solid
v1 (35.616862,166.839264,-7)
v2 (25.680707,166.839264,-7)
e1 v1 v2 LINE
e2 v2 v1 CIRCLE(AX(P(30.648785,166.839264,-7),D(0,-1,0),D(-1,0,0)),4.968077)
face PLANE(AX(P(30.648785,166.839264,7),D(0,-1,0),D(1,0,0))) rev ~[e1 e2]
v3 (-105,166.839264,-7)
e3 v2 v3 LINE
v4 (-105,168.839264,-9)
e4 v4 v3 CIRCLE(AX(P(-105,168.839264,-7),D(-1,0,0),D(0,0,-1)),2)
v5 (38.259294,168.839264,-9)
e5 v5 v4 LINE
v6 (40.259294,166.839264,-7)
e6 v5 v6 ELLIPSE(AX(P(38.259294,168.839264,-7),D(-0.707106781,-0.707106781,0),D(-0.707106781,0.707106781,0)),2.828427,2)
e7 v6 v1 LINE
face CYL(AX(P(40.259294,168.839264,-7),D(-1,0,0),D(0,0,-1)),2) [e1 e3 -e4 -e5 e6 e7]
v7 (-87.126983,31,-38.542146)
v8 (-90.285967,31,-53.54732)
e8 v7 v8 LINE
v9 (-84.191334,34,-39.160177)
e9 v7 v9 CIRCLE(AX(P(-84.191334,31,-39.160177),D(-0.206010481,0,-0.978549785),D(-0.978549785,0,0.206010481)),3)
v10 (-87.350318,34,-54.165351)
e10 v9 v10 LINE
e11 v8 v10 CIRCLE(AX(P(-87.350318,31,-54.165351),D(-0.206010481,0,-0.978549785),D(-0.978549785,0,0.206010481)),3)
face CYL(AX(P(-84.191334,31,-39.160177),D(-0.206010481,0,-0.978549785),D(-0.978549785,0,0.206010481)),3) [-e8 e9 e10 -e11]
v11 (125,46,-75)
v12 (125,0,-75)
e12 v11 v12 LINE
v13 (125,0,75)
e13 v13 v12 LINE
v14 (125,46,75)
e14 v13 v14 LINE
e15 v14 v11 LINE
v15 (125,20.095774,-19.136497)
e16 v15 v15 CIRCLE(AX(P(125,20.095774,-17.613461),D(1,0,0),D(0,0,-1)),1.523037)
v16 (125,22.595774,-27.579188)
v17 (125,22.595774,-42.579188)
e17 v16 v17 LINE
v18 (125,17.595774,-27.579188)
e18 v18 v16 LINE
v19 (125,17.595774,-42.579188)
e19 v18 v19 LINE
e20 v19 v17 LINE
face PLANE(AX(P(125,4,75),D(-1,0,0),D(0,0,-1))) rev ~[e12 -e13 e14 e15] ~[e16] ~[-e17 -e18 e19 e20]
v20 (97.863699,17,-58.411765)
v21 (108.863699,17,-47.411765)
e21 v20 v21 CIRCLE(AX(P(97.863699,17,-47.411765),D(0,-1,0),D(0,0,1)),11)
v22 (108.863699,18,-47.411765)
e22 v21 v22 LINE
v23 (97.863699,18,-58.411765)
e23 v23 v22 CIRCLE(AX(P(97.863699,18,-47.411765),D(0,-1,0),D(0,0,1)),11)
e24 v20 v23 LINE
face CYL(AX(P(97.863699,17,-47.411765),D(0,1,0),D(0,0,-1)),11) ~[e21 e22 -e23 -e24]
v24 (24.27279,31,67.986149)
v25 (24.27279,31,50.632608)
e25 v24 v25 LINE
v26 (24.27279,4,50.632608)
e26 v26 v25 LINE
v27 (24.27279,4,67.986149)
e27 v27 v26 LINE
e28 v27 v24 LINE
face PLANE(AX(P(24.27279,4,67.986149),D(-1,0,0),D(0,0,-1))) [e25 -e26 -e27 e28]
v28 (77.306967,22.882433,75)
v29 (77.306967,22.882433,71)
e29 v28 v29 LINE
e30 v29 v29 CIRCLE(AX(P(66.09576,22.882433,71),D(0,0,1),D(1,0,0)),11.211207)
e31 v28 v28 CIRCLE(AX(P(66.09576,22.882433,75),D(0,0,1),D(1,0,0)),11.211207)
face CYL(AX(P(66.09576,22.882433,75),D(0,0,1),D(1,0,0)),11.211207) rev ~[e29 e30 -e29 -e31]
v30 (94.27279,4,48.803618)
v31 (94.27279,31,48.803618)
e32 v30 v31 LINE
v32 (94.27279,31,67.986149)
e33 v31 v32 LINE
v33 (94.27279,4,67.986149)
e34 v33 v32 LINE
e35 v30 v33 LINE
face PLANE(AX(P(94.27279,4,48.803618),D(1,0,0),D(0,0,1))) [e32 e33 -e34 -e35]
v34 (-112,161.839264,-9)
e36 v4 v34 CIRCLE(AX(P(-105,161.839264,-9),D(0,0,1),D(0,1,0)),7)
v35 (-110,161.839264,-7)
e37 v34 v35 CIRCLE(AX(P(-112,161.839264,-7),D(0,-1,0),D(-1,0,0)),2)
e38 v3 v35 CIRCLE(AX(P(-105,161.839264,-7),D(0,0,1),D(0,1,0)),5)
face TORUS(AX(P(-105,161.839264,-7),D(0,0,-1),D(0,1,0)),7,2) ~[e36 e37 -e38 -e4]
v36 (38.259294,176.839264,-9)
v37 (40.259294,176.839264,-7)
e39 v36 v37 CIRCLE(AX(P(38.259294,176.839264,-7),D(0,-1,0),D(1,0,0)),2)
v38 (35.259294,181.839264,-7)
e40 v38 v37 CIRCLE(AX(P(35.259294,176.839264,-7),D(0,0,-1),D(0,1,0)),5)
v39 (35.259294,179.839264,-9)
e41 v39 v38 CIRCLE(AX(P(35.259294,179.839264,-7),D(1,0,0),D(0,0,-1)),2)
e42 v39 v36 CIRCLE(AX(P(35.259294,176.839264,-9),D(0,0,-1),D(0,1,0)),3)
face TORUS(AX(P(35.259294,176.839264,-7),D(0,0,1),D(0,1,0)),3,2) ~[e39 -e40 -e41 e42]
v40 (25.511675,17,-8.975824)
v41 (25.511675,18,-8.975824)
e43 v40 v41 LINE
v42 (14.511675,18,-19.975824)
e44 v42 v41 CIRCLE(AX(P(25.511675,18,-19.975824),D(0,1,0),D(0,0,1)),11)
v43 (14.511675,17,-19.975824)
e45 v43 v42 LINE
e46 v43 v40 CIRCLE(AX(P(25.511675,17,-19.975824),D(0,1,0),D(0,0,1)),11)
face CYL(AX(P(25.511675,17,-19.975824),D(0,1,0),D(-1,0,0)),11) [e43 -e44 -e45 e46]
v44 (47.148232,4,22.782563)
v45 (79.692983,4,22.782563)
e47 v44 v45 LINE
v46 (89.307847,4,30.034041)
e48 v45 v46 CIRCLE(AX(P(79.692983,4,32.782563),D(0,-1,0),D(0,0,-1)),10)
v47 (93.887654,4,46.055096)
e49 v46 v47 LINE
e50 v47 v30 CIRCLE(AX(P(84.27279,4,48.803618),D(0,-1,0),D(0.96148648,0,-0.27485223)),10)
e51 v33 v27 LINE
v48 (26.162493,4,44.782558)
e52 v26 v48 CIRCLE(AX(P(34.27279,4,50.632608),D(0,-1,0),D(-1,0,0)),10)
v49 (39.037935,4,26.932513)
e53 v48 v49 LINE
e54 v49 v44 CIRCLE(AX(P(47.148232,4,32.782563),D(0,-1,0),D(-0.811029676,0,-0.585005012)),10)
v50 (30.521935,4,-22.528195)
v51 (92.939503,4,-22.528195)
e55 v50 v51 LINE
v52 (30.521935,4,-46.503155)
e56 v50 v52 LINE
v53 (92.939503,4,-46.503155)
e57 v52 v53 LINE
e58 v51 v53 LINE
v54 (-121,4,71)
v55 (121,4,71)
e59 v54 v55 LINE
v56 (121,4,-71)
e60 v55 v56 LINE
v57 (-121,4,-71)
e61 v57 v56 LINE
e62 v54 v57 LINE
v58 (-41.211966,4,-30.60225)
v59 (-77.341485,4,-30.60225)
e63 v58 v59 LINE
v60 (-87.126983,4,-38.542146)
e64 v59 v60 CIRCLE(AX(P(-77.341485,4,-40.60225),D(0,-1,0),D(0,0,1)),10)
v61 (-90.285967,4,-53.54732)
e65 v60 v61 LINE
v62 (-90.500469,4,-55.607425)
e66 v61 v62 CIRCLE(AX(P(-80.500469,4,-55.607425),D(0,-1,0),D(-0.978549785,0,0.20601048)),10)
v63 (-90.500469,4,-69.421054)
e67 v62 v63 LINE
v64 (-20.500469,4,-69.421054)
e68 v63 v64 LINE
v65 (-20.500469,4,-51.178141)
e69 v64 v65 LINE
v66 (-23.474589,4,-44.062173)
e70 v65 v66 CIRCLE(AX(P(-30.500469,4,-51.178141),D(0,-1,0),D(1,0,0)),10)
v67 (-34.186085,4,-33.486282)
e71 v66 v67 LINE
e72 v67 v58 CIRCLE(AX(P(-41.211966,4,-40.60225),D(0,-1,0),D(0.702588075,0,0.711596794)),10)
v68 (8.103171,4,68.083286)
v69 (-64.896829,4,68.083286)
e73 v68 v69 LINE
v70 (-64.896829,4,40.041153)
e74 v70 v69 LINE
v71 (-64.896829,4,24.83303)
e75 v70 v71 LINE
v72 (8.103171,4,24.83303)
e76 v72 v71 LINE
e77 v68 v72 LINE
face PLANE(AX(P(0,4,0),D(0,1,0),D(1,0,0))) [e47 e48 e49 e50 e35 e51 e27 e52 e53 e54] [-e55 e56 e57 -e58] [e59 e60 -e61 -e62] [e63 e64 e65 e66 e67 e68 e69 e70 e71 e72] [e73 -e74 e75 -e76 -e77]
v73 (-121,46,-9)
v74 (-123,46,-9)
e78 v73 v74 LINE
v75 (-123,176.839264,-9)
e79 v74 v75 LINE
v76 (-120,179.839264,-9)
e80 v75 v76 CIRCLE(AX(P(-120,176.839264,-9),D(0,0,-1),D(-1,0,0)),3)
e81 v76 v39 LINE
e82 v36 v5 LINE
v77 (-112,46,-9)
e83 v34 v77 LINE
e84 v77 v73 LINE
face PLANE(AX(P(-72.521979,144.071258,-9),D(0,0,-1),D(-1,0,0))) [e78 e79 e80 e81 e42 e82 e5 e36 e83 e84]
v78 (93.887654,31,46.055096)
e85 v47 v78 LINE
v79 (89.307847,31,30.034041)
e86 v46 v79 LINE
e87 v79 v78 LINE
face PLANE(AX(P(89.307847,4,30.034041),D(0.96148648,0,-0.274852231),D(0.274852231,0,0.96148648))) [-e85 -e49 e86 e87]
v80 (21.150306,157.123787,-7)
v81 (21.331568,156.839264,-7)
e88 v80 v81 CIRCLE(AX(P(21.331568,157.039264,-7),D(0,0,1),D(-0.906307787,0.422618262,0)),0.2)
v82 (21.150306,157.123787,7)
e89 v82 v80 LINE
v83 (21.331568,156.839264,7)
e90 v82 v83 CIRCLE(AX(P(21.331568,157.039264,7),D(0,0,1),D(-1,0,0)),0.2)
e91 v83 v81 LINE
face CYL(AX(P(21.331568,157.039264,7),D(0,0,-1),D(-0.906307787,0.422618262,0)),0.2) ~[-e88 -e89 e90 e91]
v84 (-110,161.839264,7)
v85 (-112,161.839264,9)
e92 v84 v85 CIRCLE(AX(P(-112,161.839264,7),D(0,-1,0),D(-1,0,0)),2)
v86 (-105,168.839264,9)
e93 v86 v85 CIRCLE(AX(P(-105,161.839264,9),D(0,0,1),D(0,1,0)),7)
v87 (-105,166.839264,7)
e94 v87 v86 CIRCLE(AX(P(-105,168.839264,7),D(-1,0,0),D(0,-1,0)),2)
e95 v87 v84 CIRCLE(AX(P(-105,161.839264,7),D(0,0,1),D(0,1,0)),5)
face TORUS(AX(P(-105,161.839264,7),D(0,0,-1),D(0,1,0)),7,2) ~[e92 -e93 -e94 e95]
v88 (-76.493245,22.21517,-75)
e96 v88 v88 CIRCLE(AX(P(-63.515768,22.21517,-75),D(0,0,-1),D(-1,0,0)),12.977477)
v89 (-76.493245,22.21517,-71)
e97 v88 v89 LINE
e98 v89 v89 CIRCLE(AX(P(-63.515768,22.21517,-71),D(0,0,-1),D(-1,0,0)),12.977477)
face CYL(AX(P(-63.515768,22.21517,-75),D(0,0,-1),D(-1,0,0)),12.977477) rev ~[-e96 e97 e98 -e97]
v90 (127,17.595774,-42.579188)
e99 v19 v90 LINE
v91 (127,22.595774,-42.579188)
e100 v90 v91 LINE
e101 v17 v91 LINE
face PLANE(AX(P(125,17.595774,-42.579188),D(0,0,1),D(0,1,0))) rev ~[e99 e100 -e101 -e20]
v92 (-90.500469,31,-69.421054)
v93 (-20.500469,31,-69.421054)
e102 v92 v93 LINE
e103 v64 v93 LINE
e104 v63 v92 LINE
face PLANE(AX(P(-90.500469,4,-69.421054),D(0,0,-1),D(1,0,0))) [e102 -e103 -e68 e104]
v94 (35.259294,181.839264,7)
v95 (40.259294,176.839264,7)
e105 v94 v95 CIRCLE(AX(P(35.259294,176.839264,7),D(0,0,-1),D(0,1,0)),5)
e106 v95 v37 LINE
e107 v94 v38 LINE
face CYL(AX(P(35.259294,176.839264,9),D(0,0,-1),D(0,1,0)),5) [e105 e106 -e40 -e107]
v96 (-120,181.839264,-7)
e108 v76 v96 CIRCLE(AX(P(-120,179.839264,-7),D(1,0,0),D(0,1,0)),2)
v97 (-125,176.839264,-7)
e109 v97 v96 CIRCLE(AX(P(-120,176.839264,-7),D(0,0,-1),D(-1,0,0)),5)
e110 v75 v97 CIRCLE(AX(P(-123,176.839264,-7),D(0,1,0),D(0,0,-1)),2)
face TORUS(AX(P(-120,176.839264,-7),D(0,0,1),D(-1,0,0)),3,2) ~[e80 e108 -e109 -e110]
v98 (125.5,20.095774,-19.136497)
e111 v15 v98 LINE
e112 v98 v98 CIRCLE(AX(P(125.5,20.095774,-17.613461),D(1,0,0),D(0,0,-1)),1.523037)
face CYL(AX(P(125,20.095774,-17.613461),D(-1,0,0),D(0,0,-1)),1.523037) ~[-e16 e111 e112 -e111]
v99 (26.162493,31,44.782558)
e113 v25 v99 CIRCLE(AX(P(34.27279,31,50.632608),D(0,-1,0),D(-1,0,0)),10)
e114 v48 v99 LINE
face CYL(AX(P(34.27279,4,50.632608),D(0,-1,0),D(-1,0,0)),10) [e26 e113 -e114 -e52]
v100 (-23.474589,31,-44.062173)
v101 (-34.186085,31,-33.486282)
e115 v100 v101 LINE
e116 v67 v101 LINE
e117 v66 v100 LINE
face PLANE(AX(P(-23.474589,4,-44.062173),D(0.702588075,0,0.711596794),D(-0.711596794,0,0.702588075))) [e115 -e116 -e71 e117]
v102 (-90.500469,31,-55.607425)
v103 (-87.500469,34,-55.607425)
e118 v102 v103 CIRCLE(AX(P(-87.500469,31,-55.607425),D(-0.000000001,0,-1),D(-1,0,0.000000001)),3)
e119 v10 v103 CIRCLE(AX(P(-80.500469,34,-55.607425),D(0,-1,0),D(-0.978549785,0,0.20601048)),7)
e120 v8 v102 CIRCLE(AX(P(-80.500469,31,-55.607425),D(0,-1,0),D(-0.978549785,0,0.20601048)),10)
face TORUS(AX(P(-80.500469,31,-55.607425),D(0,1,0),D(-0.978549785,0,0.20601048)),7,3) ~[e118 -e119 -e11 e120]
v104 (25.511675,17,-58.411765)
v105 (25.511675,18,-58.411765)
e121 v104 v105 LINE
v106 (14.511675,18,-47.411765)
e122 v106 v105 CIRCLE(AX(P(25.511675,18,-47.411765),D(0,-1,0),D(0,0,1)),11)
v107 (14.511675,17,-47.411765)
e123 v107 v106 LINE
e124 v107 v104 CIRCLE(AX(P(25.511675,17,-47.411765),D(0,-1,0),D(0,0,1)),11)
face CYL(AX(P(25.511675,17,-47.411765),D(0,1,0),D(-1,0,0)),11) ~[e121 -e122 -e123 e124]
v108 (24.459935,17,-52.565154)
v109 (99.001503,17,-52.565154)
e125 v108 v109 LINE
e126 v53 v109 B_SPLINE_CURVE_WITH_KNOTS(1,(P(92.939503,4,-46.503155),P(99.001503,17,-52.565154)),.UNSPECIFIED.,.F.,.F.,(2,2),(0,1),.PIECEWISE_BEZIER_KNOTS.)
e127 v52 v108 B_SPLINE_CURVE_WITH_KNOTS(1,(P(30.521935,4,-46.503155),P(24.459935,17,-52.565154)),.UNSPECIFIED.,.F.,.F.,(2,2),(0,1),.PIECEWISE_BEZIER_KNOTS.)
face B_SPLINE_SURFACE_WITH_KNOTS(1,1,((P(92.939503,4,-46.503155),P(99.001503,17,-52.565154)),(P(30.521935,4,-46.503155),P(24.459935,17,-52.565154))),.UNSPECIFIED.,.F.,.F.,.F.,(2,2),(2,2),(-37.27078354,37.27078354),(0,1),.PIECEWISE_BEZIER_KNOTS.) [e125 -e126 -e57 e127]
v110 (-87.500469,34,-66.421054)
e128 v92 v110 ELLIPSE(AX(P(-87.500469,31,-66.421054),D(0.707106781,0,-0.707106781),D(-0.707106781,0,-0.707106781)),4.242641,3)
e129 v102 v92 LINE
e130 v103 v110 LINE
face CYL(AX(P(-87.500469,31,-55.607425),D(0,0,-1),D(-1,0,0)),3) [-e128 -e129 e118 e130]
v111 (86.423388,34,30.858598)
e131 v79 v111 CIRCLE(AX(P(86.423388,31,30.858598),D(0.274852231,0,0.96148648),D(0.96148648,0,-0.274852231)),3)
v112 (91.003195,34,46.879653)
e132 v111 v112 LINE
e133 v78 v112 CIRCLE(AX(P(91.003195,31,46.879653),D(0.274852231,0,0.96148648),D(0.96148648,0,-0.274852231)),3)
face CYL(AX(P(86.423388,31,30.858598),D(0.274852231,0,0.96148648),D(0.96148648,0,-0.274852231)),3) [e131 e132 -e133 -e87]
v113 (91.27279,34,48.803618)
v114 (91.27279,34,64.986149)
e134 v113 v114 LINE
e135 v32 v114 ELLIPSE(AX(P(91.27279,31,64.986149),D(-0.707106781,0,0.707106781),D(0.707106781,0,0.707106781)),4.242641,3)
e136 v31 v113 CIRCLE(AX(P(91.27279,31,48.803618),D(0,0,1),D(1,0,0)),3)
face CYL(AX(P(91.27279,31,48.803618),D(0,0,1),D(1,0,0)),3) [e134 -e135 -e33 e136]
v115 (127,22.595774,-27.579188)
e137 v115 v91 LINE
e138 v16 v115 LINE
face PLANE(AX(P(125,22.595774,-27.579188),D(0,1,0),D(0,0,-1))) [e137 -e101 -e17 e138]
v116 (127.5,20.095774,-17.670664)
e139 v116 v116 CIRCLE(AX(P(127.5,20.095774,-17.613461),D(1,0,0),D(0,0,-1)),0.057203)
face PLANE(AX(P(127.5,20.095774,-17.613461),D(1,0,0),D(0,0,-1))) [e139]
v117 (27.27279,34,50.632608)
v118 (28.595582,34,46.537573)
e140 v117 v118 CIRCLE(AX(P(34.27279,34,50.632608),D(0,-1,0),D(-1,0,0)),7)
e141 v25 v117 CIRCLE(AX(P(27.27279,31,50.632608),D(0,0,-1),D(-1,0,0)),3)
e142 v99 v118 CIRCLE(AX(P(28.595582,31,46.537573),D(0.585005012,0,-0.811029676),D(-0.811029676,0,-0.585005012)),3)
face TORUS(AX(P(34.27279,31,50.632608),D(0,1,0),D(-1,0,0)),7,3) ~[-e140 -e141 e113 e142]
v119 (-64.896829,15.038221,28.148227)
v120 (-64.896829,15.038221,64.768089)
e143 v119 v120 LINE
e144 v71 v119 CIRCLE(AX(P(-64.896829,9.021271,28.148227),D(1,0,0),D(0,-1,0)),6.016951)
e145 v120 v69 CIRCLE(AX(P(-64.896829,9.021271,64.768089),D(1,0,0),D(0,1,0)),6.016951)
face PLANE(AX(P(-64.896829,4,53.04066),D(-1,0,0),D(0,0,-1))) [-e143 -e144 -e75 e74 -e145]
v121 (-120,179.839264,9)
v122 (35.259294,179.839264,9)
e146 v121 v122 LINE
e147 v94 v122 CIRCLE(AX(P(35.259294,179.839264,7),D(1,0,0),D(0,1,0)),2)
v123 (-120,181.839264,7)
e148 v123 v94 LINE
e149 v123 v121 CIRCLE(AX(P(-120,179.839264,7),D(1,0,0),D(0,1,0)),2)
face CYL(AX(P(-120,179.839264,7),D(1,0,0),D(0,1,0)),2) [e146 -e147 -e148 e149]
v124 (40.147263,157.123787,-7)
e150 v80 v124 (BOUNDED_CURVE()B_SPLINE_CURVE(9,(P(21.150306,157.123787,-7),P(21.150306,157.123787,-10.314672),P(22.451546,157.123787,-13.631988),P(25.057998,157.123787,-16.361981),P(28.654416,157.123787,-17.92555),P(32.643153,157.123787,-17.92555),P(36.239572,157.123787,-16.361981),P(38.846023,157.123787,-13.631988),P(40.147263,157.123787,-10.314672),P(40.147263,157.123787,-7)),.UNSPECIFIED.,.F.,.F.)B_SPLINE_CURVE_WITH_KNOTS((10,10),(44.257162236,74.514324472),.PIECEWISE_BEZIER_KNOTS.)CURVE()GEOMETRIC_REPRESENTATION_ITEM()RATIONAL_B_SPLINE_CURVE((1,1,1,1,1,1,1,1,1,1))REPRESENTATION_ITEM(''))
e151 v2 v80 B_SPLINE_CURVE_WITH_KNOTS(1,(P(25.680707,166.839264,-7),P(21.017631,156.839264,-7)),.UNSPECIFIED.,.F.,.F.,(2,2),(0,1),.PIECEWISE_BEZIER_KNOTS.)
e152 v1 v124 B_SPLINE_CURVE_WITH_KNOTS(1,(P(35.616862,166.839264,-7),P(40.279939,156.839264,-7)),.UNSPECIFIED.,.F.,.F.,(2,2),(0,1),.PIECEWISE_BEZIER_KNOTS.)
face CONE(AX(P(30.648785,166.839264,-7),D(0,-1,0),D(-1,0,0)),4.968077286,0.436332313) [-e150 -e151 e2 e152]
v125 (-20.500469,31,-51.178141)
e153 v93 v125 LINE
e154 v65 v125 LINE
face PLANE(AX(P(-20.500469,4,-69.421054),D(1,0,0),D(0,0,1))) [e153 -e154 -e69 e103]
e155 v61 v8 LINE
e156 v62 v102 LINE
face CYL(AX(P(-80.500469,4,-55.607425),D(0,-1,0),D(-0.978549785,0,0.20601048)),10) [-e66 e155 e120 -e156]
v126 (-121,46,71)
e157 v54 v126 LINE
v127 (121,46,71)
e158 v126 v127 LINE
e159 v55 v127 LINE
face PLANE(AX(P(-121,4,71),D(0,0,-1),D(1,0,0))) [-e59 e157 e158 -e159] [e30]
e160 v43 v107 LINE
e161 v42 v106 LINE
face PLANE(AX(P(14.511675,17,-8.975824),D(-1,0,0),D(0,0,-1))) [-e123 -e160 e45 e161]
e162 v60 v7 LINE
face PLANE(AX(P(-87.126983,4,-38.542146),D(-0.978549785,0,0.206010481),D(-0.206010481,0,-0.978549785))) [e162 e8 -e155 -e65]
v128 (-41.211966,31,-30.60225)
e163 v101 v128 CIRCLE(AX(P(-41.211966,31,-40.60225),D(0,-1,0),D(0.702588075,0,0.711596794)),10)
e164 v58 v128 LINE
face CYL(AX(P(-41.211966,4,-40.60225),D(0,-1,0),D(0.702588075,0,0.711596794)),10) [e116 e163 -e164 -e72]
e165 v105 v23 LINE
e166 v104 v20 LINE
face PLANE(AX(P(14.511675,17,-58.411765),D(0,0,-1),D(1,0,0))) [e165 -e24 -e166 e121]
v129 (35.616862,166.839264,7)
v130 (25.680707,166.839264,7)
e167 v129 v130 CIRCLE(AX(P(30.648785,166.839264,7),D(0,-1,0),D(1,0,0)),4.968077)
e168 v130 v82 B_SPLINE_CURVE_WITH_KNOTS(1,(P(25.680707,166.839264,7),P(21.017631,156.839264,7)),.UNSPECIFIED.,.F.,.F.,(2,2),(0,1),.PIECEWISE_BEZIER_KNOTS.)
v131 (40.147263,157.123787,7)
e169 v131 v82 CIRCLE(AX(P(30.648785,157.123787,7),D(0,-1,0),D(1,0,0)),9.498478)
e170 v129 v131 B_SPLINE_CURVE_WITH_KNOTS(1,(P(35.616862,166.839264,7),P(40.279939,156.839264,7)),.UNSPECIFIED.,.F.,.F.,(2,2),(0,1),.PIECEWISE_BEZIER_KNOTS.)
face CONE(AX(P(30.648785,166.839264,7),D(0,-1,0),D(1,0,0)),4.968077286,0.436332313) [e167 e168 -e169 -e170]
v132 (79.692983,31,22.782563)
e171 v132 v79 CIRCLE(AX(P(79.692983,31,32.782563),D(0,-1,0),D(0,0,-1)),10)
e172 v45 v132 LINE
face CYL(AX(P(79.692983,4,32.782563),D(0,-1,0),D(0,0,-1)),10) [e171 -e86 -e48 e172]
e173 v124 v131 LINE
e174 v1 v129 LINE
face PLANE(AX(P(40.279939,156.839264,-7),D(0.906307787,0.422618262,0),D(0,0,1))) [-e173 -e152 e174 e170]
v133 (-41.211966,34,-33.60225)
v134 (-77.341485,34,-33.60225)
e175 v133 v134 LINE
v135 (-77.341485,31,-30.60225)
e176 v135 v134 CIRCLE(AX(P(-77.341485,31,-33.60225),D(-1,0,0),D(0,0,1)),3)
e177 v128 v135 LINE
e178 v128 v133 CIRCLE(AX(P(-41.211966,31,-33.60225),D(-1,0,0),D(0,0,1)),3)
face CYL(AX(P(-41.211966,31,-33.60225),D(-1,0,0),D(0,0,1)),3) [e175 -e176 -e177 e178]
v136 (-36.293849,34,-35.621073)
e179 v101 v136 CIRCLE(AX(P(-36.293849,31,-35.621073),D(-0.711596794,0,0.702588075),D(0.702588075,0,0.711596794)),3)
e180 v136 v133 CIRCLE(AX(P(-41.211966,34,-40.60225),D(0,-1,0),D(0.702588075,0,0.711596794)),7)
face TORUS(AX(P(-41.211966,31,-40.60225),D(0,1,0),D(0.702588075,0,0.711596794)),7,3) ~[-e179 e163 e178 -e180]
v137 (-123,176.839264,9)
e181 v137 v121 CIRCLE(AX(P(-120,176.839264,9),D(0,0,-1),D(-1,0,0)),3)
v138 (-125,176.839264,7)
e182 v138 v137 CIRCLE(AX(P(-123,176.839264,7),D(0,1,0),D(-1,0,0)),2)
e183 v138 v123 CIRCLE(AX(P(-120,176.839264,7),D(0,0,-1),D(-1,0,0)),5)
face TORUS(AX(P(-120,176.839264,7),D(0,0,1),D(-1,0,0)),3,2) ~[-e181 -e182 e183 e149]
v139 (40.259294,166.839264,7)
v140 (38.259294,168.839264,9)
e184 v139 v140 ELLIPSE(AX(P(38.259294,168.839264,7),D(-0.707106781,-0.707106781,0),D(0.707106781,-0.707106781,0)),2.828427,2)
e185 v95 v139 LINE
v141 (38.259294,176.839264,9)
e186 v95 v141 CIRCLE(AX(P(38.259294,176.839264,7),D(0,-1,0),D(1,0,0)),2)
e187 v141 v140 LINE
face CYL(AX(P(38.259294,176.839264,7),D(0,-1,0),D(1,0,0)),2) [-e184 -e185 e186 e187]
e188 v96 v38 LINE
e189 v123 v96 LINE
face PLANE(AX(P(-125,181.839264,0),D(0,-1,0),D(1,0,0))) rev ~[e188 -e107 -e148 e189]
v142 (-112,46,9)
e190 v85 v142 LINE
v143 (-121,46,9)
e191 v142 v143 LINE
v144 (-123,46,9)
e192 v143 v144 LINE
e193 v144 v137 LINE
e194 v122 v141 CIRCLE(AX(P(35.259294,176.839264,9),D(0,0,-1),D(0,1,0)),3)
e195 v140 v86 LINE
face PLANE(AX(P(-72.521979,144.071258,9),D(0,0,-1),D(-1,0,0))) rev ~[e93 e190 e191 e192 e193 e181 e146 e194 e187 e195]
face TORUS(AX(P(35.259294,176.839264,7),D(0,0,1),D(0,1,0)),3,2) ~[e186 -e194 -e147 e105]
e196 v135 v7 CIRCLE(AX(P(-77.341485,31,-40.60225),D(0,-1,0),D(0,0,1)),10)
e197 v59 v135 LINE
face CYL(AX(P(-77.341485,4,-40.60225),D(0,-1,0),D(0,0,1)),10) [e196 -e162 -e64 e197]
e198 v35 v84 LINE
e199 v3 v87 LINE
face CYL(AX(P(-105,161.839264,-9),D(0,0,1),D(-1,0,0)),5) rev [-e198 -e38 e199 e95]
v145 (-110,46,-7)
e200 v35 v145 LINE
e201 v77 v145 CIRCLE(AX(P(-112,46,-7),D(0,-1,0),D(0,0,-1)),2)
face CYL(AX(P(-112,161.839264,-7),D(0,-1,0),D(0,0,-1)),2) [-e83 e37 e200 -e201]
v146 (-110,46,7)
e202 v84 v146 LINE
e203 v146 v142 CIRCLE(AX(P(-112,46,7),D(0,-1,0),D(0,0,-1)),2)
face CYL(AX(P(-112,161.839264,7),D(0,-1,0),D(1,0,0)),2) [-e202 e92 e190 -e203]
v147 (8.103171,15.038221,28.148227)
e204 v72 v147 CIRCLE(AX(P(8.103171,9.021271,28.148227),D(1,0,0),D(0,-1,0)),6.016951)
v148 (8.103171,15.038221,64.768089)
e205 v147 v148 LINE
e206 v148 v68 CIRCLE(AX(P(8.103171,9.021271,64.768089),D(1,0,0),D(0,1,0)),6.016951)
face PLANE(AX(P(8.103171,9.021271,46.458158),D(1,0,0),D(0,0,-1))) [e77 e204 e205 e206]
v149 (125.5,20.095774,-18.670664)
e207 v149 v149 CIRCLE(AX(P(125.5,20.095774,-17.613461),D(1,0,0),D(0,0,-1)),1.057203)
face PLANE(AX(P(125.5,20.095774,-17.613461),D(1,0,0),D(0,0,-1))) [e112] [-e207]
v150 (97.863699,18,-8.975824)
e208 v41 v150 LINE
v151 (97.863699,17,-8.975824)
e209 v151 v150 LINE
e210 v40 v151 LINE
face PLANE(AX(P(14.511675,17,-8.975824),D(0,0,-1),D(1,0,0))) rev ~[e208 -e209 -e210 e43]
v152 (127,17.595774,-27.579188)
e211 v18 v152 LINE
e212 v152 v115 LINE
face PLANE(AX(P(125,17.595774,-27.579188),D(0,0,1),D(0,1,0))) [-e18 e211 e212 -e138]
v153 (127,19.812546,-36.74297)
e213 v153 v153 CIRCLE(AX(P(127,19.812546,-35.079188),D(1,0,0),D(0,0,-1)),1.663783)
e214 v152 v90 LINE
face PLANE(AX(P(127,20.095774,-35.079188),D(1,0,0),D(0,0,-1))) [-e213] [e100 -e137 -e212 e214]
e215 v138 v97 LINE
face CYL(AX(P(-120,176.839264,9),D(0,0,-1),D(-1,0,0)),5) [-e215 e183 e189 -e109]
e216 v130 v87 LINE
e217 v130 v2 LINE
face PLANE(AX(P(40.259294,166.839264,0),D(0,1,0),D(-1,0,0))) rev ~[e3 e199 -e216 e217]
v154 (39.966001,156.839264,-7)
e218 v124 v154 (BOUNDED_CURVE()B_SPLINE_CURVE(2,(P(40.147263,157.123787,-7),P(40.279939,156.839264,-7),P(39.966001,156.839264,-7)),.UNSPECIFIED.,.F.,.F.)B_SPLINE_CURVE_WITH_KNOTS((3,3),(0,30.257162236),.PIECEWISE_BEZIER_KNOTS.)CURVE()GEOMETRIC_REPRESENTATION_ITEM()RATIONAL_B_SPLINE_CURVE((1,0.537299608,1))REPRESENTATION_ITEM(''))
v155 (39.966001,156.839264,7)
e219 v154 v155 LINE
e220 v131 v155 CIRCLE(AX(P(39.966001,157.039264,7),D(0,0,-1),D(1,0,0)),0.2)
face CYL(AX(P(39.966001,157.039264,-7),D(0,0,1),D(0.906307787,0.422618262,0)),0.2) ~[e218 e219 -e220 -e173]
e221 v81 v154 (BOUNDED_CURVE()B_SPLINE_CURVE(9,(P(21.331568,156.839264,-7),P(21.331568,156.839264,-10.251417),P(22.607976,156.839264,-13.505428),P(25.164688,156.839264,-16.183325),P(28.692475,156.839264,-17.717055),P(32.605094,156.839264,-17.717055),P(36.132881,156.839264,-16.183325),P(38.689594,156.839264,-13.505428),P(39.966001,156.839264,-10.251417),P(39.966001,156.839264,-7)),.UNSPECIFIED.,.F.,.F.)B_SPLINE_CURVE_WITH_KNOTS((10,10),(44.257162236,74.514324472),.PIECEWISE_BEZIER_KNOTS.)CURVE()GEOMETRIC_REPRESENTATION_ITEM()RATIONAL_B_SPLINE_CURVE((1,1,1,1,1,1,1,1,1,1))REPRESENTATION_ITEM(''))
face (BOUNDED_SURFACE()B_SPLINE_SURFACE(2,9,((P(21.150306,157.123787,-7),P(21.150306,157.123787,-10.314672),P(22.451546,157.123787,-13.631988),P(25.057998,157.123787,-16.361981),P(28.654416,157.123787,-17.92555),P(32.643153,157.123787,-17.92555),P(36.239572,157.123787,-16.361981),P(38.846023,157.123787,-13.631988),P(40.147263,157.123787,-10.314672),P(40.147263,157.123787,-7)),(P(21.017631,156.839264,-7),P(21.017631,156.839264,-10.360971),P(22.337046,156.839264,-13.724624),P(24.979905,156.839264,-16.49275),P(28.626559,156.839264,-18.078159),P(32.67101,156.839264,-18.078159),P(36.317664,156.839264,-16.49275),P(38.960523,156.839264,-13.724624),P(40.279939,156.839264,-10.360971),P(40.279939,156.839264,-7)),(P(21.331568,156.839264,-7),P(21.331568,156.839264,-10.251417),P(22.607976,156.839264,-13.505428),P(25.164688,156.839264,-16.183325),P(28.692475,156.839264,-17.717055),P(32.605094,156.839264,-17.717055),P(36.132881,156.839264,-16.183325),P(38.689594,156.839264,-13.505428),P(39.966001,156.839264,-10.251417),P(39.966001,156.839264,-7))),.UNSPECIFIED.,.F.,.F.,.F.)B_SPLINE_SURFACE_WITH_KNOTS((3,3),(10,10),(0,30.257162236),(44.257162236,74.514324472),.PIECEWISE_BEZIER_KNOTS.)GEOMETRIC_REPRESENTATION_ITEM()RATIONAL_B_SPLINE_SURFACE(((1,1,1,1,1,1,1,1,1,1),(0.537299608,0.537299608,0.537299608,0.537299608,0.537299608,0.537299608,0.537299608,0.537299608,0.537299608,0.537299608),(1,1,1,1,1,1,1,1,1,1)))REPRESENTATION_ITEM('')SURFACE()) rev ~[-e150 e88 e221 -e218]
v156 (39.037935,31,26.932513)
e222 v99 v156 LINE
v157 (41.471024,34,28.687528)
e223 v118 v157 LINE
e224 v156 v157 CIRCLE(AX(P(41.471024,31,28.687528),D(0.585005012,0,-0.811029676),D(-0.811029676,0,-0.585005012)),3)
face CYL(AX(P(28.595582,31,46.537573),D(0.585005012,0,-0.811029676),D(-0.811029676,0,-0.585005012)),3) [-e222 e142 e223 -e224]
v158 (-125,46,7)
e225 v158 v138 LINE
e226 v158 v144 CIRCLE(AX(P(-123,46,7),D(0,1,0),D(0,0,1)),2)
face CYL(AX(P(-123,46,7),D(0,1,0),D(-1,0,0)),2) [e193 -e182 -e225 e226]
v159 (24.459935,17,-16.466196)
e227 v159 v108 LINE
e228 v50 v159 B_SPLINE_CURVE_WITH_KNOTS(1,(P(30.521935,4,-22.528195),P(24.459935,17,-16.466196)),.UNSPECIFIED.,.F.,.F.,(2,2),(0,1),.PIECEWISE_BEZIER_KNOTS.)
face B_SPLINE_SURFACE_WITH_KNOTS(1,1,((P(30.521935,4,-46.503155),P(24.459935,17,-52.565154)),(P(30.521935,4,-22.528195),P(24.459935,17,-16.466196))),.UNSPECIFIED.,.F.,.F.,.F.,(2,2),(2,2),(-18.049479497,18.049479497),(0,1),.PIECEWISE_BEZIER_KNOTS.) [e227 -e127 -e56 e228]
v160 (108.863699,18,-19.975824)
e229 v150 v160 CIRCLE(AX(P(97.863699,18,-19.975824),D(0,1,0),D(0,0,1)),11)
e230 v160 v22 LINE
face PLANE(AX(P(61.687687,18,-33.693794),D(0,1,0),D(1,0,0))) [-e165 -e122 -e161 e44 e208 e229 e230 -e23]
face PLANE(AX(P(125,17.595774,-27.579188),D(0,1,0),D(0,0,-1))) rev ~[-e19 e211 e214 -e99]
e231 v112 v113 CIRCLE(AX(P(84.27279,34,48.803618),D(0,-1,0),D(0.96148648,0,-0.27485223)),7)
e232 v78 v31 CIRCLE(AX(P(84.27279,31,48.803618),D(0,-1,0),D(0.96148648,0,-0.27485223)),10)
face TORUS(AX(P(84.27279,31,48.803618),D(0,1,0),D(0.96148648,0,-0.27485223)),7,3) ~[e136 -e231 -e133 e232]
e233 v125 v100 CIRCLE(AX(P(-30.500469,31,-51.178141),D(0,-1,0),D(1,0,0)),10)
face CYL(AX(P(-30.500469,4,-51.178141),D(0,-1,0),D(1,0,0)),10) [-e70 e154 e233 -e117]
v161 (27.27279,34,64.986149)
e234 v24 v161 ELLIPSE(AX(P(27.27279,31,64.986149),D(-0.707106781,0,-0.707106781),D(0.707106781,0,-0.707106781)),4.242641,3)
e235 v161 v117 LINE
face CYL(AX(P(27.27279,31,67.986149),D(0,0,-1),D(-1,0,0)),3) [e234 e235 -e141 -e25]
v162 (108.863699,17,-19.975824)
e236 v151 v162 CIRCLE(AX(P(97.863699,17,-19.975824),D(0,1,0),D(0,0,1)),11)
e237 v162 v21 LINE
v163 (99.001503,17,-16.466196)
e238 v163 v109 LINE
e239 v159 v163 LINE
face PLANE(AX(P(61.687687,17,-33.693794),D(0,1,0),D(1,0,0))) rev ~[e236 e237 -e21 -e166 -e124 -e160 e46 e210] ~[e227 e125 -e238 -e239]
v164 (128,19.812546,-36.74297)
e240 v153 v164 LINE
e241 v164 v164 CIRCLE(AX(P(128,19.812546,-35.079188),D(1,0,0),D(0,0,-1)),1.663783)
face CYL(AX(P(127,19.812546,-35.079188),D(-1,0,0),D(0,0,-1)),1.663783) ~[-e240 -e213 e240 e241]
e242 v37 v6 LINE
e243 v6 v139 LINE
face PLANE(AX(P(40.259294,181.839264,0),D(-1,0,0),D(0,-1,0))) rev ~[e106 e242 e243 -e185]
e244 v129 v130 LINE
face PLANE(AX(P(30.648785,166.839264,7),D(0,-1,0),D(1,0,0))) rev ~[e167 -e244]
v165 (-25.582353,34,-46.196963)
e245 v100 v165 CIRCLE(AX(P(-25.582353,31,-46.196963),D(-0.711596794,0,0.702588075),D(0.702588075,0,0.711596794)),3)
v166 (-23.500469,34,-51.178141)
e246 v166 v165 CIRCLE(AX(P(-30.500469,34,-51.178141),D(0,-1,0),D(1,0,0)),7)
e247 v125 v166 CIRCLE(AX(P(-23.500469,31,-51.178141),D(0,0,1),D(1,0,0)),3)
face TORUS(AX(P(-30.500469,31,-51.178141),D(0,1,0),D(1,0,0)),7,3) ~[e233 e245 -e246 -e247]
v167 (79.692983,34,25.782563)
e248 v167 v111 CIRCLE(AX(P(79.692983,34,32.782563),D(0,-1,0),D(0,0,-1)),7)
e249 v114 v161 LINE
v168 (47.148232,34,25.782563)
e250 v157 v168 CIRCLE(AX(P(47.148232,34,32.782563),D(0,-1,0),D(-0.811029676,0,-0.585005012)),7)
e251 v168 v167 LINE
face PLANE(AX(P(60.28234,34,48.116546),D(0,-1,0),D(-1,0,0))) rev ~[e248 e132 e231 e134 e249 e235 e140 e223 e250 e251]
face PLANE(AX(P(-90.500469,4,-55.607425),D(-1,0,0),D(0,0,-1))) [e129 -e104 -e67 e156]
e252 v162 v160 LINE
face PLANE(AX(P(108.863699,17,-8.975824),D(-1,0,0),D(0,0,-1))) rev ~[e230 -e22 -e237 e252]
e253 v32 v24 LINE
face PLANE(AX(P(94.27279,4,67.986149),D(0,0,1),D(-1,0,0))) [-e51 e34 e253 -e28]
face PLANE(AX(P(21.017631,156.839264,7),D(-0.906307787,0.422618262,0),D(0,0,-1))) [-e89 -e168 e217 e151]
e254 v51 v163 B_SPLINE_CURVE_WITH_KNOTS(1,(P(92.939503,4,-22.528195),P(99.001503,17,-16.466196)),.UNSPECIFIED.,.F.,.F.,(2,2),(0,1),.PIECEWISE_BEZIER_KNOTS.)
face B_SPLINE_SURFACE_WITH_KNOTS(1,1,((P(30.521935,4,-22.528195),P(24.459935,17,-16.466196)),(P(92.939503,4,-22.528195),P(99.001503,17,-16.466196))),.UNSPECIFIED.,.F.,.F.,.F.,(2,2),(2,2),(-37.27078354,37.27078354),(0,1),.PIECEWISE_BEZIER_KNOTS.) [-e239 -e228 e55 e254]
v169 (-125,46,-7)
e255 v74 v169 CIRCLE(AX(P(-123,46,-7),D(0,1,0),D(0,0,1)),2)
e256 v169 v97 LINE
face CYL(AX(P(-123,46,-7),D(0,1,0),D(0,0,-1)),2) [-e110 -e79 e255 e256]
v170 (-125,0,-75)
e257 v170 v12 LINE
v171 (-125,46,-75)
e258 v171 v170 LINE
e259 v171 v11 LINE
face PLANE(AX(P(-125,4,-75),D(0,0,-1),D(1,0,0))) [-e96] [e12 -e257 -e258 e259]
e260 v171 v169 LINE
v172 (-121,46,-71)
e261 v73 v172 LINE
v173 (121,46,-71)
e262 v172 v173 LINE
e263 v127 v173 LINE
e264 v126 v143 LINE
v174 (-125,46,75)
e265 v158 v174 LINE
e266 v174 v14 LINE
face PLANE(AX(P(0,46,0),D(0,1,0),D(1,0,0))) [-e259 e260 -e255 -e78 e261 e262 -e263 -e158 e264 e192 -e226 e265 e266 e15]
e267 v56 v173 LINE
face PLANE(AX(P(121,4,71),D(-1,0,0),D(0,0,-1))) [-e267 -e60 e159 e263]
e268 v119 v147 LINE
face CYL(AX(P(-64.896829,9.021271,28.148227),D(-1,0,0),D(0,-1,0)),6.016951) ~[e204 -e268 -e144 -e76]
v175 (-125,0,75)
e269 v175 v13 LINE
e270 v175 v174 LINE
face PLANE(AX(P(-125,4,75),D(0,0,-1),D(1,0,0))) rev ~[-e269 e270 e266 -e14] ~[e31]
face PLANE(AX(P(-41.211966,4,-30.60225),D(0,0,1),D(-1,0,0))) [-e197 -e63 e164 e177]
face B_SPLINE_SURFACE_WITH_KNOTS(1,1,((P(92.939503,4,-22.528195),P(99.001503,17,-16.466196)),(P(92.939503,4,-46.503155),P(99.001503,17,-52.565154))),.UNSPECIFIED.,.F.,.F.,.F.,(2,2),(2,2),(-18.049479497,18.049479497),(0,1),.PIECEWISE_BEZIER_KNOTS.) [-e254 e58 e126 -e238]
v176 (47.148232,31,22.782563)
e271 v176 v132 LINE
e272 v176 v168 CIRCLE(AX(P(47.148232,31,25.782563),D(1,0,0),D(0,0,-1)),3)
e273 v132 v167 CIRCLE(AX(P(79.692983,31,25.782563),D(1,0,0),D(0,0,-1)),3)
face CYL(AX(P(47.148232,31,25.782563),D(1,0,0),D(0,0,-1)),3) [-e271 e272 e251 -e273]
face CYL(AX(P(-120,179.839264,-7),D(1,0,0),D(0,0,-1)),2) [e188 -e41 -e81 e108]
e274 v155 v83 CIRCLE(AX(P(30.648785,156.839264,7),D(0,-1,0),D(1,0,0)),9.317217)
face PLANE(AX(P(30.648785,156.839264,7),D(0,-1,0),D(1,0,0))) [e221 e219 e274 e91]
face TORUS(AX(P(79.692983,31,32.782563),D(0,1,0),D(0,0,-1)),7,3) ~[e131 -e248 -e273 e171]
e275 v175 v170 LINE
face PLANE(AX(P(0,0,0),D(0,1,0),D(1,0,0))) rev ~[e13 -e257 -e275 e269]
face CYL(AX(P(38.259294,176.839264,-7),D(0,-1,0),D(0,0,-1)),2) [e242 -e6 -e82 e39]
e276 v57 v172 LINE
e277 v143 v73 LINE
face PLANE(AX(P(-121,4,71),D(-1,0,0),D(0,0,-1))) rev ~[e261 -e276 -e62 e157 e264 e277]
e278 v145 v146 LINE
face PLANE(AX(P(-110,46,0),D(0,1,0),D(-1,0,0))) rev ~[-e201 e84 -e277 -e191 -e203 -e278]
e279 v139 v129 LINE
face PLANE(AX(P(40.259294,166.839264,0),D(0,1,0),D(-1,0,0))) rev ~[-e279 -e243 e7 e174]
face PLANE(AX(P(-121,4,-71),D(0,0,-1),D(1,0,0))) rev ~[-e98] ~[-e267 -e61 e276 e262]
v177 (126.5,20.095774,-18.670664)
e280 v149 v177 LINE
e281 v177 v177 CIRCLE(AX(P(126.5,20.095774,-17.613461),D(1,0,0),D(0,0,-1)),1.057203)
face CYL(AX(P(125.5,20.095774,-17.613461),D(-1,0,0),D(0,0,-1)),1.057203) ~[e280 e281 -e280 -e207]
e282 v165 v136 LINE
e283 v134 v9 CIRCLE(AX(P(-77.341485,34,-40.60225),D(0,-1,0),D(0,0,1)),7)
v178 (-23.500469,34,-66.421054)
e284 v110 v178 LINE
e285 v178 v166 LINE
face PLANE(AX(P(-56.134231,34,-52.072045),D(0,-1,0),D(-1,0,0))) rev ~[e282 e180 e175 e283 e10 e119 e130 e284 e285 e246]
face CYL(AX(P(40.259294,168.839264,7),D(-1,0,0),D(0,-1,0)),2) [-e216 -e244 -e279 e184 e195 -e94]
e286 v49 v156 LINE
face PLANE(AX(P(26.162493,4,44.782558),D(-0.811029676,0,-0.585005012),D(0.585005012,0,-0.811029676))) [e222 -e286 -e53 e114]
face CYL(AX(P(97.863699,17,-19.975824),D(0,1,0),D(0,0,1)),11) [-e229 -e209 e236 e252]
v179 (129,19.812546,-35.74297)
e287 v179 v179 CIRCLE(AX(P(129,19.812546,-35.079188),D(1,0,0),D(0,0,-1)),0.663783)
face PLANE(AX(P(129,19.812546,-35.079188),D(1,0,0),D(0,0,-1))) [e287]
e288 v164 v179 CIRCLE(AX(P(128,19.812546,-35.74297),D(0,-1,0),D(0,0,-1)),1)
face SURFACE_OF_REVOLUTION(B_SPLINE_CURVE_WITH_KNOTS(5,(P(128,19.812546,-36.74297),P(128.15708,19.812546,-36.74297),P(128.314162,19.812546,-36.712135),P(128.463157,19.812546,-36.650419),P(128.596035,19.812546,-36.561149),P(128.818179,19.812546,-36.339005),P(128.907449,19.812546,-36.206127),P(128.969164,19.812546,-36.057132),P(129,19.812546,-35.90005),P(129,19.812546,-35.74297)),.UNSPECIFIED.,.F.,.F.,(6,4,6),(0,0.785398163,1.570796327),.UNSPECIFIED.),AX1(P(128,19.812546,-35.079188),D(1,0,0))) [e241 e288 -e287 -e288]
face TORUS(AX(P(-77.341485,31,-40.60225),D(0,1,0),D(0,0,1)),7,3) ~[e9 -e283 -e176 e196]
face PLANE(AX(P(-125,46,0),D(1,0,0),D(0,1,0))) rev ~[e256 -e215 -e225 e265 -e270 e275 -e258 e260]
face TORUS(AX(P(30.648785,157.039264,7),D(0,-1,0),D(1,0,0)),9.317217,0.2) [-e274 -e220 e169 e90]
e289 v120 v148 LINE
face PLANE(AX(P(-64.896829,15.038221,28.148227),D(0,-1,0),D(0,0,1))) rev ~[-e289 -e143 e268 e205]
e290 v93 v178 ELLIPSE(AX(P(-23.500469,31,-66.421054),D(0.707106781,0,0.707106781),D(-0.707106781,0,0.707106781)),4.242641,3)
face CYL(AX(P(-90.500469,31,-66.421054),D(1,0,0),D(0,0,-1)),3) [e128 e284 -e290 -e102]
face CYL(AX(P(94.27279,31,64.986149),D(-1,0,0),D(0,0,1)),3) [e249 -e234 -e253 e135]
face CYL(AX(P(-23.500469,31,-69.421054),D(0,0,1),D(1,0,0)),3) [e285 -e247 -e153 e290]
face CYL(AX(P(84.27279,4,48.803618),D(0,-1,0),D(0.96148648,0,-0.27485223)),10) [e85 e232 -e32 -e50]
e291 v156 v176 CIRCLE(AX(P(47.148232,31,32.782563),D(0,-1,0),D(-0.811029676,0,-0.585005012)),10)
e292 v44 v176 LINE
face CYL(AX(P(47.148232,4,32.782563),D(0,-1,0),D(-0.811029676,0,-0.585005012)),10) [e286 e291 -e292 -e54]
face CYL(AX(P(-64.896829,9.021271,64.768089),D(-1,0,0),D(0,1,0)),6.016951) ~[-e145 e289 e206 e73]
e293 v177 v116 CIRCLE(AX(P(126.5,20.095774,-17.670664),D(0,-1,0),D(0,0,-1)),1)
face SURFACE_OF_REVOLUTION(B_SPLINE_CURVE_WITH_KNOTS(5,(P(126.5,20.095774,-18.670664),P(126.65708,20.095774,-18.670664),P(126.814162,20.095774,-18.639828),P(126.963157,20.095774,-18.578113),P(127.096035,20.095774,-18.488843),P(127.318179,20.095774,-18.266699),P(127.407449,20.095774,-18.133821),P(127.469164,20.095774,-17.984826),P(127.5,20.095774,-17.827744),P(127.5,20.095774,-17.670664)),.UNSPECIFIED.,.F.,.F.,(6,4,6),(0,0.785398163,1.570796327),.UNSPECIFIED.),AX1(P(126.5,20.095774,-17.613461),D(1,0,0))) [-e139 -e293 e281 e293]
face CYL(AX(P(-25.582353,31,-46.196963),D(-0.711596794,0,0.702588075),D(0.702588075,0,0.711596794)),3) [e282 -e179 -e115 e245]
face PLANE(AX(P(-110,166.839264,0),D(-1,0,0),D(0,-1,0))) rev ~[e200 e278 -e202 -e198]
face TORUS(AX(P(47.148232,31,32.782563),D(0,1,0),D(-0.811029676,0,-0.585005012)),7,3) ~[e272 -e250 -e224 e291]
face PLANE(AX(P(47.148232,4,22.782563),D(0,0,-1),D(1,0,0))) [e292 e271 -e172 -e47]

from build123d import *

# Parameters (mm, degrees)
SKETCH2_W            = 250
SKETCH2_H            = 150
BOSS_EXTRUDE1_DEPTH  = 4
SKETCH3_W            = 250
SKETCH3_H            = 150
SKETCH3_W_2          = 242
SKETCH3_H_2          = 142
BOSS_EXTRUDE2_DEPTH  = 42
BOSS_EXTRUDE3_DEPTH  = 9
FILLET1_R            = 5
FILLET2_R            = 5
FILLET3_R            = 2
BOSS_EXTRUDE4_DEPTH  = 10
BOSS_EXTRUDE4_TAPER  = -25
FILLET4_R            = 0.2
BOSS_EXTRUDE5_DEPTH  = 30
BOSS_EXTRUDE6_DEPTH  = 30
FILLET5_R            = 3
SKETCH8_R            = 11.211206803
CUT_EXTRUDE1_DEPTH   = 4
SKETCH9_R            = 12.977476732
CUT_EXTRUDE2_DEPTH   = 4
SKETCH10_W           = 15
SKETCH10_H           = 5
BOSS_EXTRUDE7_DEPTH  = 2
SKETCH11_R           = 1.66378252
BOSS_EXTRUDE8_DEPTH  = 2
FILLET6_R            = 1
SKETCH12_R           = 1.52303655
BOSS_EXTRUDE9_DEPTH  = 0.5
SKETCH13_R           = 1.057203078
BOSS_EXTRUDE10_DEPTH = 2
FILLET7_R            = 1
SKETCH14_W           = 33.089652655
SKETCH14_H           = 12.9995064
BOSS_EXTRUDE11_DEPTH = 3
BOSS_EXTRUDE12_DEPTH = 73
SKETCH16_W           = 62.417567968
SKETCH16_H           = 23.974959881
BOSS_EXTRUDE13_DEPTH = 13
BOSS_EXTRUDE13_TAPER = -25
SKETCH17_W           = 94.352024665
SKETCH17_H           = 49.435941067
BOSS_EXTRUDE14_DEPTH = 1
FILLET8_R            = 11


with BuildPart() as part:
    # Sketch2 → Boss-Extrude1 (new body)
    with BuildSketch(Plane(origin=(0, 0, 0), x_dir=(1, 0, 0), z_dir=(0, 1, 0))):
        Rectangle(SKETCH2_W, SKETCH2_H)
    extrude(amount=BOSS_EXTRUDE1_DEPTH)

    # Sketch3 → Boss-Extrude2 (add)
    with BuildSketch(Plane(origin=(0, 4, 0), x_dir=(1, 0, 0), z_dir=(0, 1, 0))):
        Rectangle(SKETCH3_W, SKETCH3_H)
        Rectangle(SKETCH3_W_2, SKETCH3_H_2, mode=Mode.SUBTRACT)
    extrude(amount=BOSS_EXTRUDE2_DEPTH)

    # Sketch4 → Boss-Extrude3 (add, symmetric)
    with BuildSketch(Plane.XY):
        Polygon((-110, 46), (-125, 46), (-125, 181.839263538), (40.259294234, 181.839263538), (40.259294234, 166.839263538), (-110, 166.839263538), align=None)
    extrude(amount=BOSS_EXTRUDE3_DEPTH, both=True)

    # Fillet1
    fillet1_edges = [part.edges().sort_by_distance(p)[0] for p in [
        (-110, 166.839263538, 0),
        (-125, 181.839263538, 0),
    ]]
    fillet(fillet1_edges, radius=FILLET1_R)

    # Fillet2
    fillet2_edges = [part.edges().sort_by_distance(p)[0] for p in [
        (40.259294234, 181.839263538, 0),
    ]]
    fillet(fillet2_edges, radius=FILLET2_R)

    # Fillet3
    fillet3_edges = [part.edges().sort_by_distance(p)[0] for p in [
        (-110, 103.919631769, -9),
        (-125, 111.419631769, 9),
        (-110, 103.919631769, 9),
        (-125, 111.419631769, -9),
        (-32.370352883, 166.839263538, -9),
        (-32.370352883, 166.839263538, 9),
        (-42.370352883, 181.839263538, -9),
        (-123.535533906, 180.374797444, -9),
        (-42.370352883, 181.839263538, 9),
        (-123.535533906, 180.374797444, 9),
        (-108.535533906, 165.374797444, -9),
        (-108.535533906, 165.374797444, 9),
        (40.259294234, 171.839263538, -9),
        (38.79482814, 180.374797444, -9),
        (40.259294234, 171.839263538, 9),
        (38.79482814, 180.374797444, 9),
    ]]
    fillet(fillet3_edges, radius=FILLET3_R)

    # Sketch5 → Boss-Extrude4 (add)
    with BuildSketch(Plane.XZ.offset(-166.839263538)):
        with BuildLine():
            ThreePointArc((35.616861921, 7), (30.648784635, 11.968077286), (25.680707349, 7))
            Line((25.680707349, 7), (25.680707349, -7))
            ThreePointArc((25.680707349, -7), (30.648784635, -11.968077286), (35.616861921, -7))
            Line((35.616861921, -7), (35.616861921, 7))
        make_face()
    extrude(amount=BOSS_EXTRUDE4_DEPTH, taper=BOSS_EXTRUDE4_TAPER)

    # Fillet4
    fillet4_edges = [part.edges().sort_by_distance(p)[0] for p in [
        (30.648784635, 156.839263538, 16.631153867),
        (21.017630768, 156.839263538, 0),
        (30.648784635, 156.839263538, -16.631153867),
        (40.279938503, 156.839263538, 0),
    ]]
    fillet(fillet4_edges, radius=FILLET4_R)

    # Sketch6 → Boss-Extrude5 (add)
    with BuildSketch(Plane(origin=(0, 4, 0), x_dir=(1, 0, 0), z_dir=(0, 1, 0))):
        with BuildLine():
            Line((-90.500469276, 69.421053969), (-20.500469276, 69.421053969))
            Line((-20.500469276, 69.421053969), (-20.500469276, 51.178140996))
            ThreePointArc((-20.500469276, 51.178140996), (-21.273909584, 47.321899788), (-23.474588526, 44.062173058))
            Line((-23.474588526, 44.062173058), (-34.186085203, 33.486282475))
            ThreePointArc((-34.186085203, 33.486282475), (-37.414577335, 31.35131318), (-41.211965952, 30.602250413))
            Line((-41.211965952, 30.602250413), (-77.341485247, 30.602250413))
            ThreePointArc((-77.341485247, 30.602250413), (-83.642237261, 32.836909206), (-87.126983096, 38.542145602))
            Line((-87.126983096, 38.542145602), (-90.285967126, 53.547319741))
            ThreePointArc((-90.285967126, 53.547319741), (-90.446699177, 54.571803603), (-90.500469276, 55.607424552))
            Line((-90.500469276, 55.607424552), (-90.500469276, 69.421053969))
        make_face()
    extrude(amount=BOSS_EXTRUDE5_DEPTH)

    # Sketch7 → Boss-Extrude6 (add)
    with BuildSketch(Plane(origin=(0, 4, 0), x_dir=(1, 0, 0), z_dir=(0, 1, 0))):
        with BuildLine():
            Line((94.272789683, -67.986149324), (24.272789683, -67.986149324))
            Line((24.272789683, -67.986149324), (24.272789683, -50.632607903))
            ThreePointArc((24.272789683, -50.632607903), (24.756935344, -47.558764024), (26.162492922, -44.78255778))
            Line((26.162492922, -44.78255778), (39.037934791, -26.932513371))
            ThreePointArc((39.037934791, -26.932513371), (42.593042271, -23.880302511), (47.148231552, -22.782563494))
            Line((47.148231552, -22.782563494), (79.692982564, -22.782563494))
            ThreePointArc((79.692982564, -22.782563494), (85.714393401, -24.79866648), (89.307847365, -30.034041189))
            Line((89.307847365, -30.034041189), (93.887654484, -46.055095912))
            ThreePointArc((93.887654484, -46.055095912), (94.176037837, -47.415930934), (94.272789683, -48.803618217))
            Line((94.272789683, -48.803618217), (94.272789683, -67.986149324))
        make_face()
    extrude(amount=BOSS_EXTRUDE6_DEPTH)

    # Fillet5
    fillet5_edges = [part.edges().sort_by_distance(p)[0] for p in [
        (-90.500469276, 34, -62.51423926),
        (-90.446699177, 34, -54.571803603),
        (-88.706475111, 34, -46.044732672),
        (-83.642237261, 34, -32.836909206),
        (-59.276725599, 34, -30.602250413),
        (-37.414577335, 34, -31.35131318),
        (-28.830336864, 34, -38.774227767),
        (-21.273909584, 34, -47.321899788),
        (-20.500469276, 34, -60.299597482),
        (-55.500469276, 34, -69.421053969),
        (94.272789683, 34, 58.394883771),
        (94.176037837, 34, 47.415930934),
        (91.597750924, 34, 38.04456855),
        (85.714393401, 34, 24.79866648),
        (63.420607058, 34, 22.782563494),
        (42.593042271, 34, 23.880302511),
        (32.600213856, 34, 35.857535576),
        (24.756935344, 34, 47.558764024),
        (24.272789683, 34, 59.309378614),
        (59.272789683, 34, 67.986149324),
    ]]
    fillet(fillet5_edges, radius=FILLET5_R)

    # Sketch8 → Cut-Extrude1 (cut)
    with BuildSketch(Plane.XY.offset(75)):
        with Locations((66.095760029, 22.882433169)):
            Circle(SKETCH8_R)
    extrude(amount=-CUT_EXTRUDE1_DEPTH, mode=Mode.SUBTRACT)

    # Sketch9 → Cut-Extrude2 (cut)
    with BuildSketch(Plane(origin=(0, 0, -75), x_dir=(-1, 0, 0), z_dir=(0, 0, -1))):
        with Locations((63.515768044, 22.215170496)):
            Circle(SKETCH9_R)
    extrude(amount=-CUT_EXTRUDE2_DEPTH, mode=Mode.SUBTRACT)

    # Sketch10 → Boss-Extrude7 (add)
    with BuildSketch(Plane(origin=(125, 0, 0), x_dir=(0, 0, -1), z_dir=(1, 0, 0))):
        with Locations((35.079187759, 20.095773873)):
            Rectangle(SKETCH10_W, SKETCH10_H)
    extrude(amount=BOSS_EXTRUDE7_DEPTH)

    # Sketch11 → Boss-Extrude8 (add)
    with BuildSketch(Plane(origin=(127, 0, 0), x_dir=(0, 0, -1), z_dir=(1, 0, 0))):
        with Locations((35.079187759, 19.812546088)):
            Circle(SKETCH11_R)
    extrude(amount=BOSS_EXTRUDE8_DEPTH)

    # Fillet6
    fillet6_edges = [part.edges().sort_by_distance(p)[0] for p in [
        (129, 19.812546088, -33.415405238),
    ]]
    fillet(fillet6_edges, radius=FILLET6_R)

    # Sketch12 → Boss-Extrude9 (add)
    with BuildSketch(Plane(origin=(125, 0, 0), x_dir=(0, 0, -1), z_dir=(1, 0, 0))):
        with Locations((17.613460865, 20.095773873)):
            Circle(SKETCH12_R)
    extrude(amount=BOSS_EXTRUDE9_DEPTH)

    # Sketch13 → Boss-Extrude10 (add)
    with BuildSketch(Plane(origin=(125.5, 0, 0), x_dir=(0, 0, -1), z_dir=(1, 0, 0))):
        with Locations((17.613460865, 20.095773873)):
            Circle(SKETCH13_R)
    extrude(amount=BOSS_EXTRUDE10_DEPTH)

    # Fillet7
    fillet7_edges = [part.edges().sort_by_distance(p)[0] for p in [
        (127.5, 20.095773873, -16.556257788),
    ]]
    fillet(fillet7_edges, radius=FILLET7_R)

    # Sketch14 → Boss-Extrude11 (add)
    with BuildSketch(Plane(origin=(0, 4, 0), x_dir=(1, 0, 0), z_dir=(0, 1, 0))):
        with Locations((-48.352002285, -46.540906524)):
            Rectangle(SKETCH14_W, SKETCH14_H)
    extrude(amount=BOSS_EXTRUDE11_DEPTH)

    # Sketch15 → Boss-Extrude12 (add)
    with BuildSketch(Plane.ZY.offset(64.896828612)):
        with BuildLine():
            Line((64.768088921, 3.004320132), (28.148227328, 3.004320132))
            ThreePointArc((28.148227328, 3.004320132), (22.131276685, 9.021270775), (28.148227328, 15.038221418))
            Line((28.148227328, 15.038221418), (64.768088921, 15.038221418))
            ThreePointArc((64.768088921, 15.038221418), (70.785039563, 9.021270775), (64.768088921, 3.004320132))
        make_face()
    extrude(amount=-BOSS_EXTRUDE12_DEPTH)

    # Sketch16 → Boss-Extrude13 (add)
    with BuildSketch(Plane(origin=(0, 4, 0), x_dir=(1, 0, 0), z_dir=(0, 1, 0))):
        with Locations((61.730719015, 34.515675002)):
            Rectangle(SKETCH16_W, SKETCH16_H)
    extrude(amount=BOSS_EXTRUDE13_DEPTH, taper=BOSS_EXTRUDE13_TAPER)

    # Sketch17 → Boss-Extrude14 (add)
    with BuildSketch(Plane(origin=(0, 17, 0), x_dir=(1, 0, 0), z_dir=(0, 1, 0))):
        with Locations((61.687687098, 33.693794126)):
            Rectangle(SKETCH17_W, SKETCH17_H)
    extrude(amount=BOSS_EXTRUDE14_DEPTH)

    # Fillet8
    fillet8_edges = [part.edges().sort_by_distance(p)[0] for p in [
        (14.511674765, 17.5, -58.411764659),
        (14.511674765, 17.5, -8.975823592),
        (108.86369943, 17.5, -8.975823592),
        (108.86369943, 17.5, -58.411764659),
    ]]
    fillet(fillet8_edges, radius=FILLET8_R)


solid = part.part
